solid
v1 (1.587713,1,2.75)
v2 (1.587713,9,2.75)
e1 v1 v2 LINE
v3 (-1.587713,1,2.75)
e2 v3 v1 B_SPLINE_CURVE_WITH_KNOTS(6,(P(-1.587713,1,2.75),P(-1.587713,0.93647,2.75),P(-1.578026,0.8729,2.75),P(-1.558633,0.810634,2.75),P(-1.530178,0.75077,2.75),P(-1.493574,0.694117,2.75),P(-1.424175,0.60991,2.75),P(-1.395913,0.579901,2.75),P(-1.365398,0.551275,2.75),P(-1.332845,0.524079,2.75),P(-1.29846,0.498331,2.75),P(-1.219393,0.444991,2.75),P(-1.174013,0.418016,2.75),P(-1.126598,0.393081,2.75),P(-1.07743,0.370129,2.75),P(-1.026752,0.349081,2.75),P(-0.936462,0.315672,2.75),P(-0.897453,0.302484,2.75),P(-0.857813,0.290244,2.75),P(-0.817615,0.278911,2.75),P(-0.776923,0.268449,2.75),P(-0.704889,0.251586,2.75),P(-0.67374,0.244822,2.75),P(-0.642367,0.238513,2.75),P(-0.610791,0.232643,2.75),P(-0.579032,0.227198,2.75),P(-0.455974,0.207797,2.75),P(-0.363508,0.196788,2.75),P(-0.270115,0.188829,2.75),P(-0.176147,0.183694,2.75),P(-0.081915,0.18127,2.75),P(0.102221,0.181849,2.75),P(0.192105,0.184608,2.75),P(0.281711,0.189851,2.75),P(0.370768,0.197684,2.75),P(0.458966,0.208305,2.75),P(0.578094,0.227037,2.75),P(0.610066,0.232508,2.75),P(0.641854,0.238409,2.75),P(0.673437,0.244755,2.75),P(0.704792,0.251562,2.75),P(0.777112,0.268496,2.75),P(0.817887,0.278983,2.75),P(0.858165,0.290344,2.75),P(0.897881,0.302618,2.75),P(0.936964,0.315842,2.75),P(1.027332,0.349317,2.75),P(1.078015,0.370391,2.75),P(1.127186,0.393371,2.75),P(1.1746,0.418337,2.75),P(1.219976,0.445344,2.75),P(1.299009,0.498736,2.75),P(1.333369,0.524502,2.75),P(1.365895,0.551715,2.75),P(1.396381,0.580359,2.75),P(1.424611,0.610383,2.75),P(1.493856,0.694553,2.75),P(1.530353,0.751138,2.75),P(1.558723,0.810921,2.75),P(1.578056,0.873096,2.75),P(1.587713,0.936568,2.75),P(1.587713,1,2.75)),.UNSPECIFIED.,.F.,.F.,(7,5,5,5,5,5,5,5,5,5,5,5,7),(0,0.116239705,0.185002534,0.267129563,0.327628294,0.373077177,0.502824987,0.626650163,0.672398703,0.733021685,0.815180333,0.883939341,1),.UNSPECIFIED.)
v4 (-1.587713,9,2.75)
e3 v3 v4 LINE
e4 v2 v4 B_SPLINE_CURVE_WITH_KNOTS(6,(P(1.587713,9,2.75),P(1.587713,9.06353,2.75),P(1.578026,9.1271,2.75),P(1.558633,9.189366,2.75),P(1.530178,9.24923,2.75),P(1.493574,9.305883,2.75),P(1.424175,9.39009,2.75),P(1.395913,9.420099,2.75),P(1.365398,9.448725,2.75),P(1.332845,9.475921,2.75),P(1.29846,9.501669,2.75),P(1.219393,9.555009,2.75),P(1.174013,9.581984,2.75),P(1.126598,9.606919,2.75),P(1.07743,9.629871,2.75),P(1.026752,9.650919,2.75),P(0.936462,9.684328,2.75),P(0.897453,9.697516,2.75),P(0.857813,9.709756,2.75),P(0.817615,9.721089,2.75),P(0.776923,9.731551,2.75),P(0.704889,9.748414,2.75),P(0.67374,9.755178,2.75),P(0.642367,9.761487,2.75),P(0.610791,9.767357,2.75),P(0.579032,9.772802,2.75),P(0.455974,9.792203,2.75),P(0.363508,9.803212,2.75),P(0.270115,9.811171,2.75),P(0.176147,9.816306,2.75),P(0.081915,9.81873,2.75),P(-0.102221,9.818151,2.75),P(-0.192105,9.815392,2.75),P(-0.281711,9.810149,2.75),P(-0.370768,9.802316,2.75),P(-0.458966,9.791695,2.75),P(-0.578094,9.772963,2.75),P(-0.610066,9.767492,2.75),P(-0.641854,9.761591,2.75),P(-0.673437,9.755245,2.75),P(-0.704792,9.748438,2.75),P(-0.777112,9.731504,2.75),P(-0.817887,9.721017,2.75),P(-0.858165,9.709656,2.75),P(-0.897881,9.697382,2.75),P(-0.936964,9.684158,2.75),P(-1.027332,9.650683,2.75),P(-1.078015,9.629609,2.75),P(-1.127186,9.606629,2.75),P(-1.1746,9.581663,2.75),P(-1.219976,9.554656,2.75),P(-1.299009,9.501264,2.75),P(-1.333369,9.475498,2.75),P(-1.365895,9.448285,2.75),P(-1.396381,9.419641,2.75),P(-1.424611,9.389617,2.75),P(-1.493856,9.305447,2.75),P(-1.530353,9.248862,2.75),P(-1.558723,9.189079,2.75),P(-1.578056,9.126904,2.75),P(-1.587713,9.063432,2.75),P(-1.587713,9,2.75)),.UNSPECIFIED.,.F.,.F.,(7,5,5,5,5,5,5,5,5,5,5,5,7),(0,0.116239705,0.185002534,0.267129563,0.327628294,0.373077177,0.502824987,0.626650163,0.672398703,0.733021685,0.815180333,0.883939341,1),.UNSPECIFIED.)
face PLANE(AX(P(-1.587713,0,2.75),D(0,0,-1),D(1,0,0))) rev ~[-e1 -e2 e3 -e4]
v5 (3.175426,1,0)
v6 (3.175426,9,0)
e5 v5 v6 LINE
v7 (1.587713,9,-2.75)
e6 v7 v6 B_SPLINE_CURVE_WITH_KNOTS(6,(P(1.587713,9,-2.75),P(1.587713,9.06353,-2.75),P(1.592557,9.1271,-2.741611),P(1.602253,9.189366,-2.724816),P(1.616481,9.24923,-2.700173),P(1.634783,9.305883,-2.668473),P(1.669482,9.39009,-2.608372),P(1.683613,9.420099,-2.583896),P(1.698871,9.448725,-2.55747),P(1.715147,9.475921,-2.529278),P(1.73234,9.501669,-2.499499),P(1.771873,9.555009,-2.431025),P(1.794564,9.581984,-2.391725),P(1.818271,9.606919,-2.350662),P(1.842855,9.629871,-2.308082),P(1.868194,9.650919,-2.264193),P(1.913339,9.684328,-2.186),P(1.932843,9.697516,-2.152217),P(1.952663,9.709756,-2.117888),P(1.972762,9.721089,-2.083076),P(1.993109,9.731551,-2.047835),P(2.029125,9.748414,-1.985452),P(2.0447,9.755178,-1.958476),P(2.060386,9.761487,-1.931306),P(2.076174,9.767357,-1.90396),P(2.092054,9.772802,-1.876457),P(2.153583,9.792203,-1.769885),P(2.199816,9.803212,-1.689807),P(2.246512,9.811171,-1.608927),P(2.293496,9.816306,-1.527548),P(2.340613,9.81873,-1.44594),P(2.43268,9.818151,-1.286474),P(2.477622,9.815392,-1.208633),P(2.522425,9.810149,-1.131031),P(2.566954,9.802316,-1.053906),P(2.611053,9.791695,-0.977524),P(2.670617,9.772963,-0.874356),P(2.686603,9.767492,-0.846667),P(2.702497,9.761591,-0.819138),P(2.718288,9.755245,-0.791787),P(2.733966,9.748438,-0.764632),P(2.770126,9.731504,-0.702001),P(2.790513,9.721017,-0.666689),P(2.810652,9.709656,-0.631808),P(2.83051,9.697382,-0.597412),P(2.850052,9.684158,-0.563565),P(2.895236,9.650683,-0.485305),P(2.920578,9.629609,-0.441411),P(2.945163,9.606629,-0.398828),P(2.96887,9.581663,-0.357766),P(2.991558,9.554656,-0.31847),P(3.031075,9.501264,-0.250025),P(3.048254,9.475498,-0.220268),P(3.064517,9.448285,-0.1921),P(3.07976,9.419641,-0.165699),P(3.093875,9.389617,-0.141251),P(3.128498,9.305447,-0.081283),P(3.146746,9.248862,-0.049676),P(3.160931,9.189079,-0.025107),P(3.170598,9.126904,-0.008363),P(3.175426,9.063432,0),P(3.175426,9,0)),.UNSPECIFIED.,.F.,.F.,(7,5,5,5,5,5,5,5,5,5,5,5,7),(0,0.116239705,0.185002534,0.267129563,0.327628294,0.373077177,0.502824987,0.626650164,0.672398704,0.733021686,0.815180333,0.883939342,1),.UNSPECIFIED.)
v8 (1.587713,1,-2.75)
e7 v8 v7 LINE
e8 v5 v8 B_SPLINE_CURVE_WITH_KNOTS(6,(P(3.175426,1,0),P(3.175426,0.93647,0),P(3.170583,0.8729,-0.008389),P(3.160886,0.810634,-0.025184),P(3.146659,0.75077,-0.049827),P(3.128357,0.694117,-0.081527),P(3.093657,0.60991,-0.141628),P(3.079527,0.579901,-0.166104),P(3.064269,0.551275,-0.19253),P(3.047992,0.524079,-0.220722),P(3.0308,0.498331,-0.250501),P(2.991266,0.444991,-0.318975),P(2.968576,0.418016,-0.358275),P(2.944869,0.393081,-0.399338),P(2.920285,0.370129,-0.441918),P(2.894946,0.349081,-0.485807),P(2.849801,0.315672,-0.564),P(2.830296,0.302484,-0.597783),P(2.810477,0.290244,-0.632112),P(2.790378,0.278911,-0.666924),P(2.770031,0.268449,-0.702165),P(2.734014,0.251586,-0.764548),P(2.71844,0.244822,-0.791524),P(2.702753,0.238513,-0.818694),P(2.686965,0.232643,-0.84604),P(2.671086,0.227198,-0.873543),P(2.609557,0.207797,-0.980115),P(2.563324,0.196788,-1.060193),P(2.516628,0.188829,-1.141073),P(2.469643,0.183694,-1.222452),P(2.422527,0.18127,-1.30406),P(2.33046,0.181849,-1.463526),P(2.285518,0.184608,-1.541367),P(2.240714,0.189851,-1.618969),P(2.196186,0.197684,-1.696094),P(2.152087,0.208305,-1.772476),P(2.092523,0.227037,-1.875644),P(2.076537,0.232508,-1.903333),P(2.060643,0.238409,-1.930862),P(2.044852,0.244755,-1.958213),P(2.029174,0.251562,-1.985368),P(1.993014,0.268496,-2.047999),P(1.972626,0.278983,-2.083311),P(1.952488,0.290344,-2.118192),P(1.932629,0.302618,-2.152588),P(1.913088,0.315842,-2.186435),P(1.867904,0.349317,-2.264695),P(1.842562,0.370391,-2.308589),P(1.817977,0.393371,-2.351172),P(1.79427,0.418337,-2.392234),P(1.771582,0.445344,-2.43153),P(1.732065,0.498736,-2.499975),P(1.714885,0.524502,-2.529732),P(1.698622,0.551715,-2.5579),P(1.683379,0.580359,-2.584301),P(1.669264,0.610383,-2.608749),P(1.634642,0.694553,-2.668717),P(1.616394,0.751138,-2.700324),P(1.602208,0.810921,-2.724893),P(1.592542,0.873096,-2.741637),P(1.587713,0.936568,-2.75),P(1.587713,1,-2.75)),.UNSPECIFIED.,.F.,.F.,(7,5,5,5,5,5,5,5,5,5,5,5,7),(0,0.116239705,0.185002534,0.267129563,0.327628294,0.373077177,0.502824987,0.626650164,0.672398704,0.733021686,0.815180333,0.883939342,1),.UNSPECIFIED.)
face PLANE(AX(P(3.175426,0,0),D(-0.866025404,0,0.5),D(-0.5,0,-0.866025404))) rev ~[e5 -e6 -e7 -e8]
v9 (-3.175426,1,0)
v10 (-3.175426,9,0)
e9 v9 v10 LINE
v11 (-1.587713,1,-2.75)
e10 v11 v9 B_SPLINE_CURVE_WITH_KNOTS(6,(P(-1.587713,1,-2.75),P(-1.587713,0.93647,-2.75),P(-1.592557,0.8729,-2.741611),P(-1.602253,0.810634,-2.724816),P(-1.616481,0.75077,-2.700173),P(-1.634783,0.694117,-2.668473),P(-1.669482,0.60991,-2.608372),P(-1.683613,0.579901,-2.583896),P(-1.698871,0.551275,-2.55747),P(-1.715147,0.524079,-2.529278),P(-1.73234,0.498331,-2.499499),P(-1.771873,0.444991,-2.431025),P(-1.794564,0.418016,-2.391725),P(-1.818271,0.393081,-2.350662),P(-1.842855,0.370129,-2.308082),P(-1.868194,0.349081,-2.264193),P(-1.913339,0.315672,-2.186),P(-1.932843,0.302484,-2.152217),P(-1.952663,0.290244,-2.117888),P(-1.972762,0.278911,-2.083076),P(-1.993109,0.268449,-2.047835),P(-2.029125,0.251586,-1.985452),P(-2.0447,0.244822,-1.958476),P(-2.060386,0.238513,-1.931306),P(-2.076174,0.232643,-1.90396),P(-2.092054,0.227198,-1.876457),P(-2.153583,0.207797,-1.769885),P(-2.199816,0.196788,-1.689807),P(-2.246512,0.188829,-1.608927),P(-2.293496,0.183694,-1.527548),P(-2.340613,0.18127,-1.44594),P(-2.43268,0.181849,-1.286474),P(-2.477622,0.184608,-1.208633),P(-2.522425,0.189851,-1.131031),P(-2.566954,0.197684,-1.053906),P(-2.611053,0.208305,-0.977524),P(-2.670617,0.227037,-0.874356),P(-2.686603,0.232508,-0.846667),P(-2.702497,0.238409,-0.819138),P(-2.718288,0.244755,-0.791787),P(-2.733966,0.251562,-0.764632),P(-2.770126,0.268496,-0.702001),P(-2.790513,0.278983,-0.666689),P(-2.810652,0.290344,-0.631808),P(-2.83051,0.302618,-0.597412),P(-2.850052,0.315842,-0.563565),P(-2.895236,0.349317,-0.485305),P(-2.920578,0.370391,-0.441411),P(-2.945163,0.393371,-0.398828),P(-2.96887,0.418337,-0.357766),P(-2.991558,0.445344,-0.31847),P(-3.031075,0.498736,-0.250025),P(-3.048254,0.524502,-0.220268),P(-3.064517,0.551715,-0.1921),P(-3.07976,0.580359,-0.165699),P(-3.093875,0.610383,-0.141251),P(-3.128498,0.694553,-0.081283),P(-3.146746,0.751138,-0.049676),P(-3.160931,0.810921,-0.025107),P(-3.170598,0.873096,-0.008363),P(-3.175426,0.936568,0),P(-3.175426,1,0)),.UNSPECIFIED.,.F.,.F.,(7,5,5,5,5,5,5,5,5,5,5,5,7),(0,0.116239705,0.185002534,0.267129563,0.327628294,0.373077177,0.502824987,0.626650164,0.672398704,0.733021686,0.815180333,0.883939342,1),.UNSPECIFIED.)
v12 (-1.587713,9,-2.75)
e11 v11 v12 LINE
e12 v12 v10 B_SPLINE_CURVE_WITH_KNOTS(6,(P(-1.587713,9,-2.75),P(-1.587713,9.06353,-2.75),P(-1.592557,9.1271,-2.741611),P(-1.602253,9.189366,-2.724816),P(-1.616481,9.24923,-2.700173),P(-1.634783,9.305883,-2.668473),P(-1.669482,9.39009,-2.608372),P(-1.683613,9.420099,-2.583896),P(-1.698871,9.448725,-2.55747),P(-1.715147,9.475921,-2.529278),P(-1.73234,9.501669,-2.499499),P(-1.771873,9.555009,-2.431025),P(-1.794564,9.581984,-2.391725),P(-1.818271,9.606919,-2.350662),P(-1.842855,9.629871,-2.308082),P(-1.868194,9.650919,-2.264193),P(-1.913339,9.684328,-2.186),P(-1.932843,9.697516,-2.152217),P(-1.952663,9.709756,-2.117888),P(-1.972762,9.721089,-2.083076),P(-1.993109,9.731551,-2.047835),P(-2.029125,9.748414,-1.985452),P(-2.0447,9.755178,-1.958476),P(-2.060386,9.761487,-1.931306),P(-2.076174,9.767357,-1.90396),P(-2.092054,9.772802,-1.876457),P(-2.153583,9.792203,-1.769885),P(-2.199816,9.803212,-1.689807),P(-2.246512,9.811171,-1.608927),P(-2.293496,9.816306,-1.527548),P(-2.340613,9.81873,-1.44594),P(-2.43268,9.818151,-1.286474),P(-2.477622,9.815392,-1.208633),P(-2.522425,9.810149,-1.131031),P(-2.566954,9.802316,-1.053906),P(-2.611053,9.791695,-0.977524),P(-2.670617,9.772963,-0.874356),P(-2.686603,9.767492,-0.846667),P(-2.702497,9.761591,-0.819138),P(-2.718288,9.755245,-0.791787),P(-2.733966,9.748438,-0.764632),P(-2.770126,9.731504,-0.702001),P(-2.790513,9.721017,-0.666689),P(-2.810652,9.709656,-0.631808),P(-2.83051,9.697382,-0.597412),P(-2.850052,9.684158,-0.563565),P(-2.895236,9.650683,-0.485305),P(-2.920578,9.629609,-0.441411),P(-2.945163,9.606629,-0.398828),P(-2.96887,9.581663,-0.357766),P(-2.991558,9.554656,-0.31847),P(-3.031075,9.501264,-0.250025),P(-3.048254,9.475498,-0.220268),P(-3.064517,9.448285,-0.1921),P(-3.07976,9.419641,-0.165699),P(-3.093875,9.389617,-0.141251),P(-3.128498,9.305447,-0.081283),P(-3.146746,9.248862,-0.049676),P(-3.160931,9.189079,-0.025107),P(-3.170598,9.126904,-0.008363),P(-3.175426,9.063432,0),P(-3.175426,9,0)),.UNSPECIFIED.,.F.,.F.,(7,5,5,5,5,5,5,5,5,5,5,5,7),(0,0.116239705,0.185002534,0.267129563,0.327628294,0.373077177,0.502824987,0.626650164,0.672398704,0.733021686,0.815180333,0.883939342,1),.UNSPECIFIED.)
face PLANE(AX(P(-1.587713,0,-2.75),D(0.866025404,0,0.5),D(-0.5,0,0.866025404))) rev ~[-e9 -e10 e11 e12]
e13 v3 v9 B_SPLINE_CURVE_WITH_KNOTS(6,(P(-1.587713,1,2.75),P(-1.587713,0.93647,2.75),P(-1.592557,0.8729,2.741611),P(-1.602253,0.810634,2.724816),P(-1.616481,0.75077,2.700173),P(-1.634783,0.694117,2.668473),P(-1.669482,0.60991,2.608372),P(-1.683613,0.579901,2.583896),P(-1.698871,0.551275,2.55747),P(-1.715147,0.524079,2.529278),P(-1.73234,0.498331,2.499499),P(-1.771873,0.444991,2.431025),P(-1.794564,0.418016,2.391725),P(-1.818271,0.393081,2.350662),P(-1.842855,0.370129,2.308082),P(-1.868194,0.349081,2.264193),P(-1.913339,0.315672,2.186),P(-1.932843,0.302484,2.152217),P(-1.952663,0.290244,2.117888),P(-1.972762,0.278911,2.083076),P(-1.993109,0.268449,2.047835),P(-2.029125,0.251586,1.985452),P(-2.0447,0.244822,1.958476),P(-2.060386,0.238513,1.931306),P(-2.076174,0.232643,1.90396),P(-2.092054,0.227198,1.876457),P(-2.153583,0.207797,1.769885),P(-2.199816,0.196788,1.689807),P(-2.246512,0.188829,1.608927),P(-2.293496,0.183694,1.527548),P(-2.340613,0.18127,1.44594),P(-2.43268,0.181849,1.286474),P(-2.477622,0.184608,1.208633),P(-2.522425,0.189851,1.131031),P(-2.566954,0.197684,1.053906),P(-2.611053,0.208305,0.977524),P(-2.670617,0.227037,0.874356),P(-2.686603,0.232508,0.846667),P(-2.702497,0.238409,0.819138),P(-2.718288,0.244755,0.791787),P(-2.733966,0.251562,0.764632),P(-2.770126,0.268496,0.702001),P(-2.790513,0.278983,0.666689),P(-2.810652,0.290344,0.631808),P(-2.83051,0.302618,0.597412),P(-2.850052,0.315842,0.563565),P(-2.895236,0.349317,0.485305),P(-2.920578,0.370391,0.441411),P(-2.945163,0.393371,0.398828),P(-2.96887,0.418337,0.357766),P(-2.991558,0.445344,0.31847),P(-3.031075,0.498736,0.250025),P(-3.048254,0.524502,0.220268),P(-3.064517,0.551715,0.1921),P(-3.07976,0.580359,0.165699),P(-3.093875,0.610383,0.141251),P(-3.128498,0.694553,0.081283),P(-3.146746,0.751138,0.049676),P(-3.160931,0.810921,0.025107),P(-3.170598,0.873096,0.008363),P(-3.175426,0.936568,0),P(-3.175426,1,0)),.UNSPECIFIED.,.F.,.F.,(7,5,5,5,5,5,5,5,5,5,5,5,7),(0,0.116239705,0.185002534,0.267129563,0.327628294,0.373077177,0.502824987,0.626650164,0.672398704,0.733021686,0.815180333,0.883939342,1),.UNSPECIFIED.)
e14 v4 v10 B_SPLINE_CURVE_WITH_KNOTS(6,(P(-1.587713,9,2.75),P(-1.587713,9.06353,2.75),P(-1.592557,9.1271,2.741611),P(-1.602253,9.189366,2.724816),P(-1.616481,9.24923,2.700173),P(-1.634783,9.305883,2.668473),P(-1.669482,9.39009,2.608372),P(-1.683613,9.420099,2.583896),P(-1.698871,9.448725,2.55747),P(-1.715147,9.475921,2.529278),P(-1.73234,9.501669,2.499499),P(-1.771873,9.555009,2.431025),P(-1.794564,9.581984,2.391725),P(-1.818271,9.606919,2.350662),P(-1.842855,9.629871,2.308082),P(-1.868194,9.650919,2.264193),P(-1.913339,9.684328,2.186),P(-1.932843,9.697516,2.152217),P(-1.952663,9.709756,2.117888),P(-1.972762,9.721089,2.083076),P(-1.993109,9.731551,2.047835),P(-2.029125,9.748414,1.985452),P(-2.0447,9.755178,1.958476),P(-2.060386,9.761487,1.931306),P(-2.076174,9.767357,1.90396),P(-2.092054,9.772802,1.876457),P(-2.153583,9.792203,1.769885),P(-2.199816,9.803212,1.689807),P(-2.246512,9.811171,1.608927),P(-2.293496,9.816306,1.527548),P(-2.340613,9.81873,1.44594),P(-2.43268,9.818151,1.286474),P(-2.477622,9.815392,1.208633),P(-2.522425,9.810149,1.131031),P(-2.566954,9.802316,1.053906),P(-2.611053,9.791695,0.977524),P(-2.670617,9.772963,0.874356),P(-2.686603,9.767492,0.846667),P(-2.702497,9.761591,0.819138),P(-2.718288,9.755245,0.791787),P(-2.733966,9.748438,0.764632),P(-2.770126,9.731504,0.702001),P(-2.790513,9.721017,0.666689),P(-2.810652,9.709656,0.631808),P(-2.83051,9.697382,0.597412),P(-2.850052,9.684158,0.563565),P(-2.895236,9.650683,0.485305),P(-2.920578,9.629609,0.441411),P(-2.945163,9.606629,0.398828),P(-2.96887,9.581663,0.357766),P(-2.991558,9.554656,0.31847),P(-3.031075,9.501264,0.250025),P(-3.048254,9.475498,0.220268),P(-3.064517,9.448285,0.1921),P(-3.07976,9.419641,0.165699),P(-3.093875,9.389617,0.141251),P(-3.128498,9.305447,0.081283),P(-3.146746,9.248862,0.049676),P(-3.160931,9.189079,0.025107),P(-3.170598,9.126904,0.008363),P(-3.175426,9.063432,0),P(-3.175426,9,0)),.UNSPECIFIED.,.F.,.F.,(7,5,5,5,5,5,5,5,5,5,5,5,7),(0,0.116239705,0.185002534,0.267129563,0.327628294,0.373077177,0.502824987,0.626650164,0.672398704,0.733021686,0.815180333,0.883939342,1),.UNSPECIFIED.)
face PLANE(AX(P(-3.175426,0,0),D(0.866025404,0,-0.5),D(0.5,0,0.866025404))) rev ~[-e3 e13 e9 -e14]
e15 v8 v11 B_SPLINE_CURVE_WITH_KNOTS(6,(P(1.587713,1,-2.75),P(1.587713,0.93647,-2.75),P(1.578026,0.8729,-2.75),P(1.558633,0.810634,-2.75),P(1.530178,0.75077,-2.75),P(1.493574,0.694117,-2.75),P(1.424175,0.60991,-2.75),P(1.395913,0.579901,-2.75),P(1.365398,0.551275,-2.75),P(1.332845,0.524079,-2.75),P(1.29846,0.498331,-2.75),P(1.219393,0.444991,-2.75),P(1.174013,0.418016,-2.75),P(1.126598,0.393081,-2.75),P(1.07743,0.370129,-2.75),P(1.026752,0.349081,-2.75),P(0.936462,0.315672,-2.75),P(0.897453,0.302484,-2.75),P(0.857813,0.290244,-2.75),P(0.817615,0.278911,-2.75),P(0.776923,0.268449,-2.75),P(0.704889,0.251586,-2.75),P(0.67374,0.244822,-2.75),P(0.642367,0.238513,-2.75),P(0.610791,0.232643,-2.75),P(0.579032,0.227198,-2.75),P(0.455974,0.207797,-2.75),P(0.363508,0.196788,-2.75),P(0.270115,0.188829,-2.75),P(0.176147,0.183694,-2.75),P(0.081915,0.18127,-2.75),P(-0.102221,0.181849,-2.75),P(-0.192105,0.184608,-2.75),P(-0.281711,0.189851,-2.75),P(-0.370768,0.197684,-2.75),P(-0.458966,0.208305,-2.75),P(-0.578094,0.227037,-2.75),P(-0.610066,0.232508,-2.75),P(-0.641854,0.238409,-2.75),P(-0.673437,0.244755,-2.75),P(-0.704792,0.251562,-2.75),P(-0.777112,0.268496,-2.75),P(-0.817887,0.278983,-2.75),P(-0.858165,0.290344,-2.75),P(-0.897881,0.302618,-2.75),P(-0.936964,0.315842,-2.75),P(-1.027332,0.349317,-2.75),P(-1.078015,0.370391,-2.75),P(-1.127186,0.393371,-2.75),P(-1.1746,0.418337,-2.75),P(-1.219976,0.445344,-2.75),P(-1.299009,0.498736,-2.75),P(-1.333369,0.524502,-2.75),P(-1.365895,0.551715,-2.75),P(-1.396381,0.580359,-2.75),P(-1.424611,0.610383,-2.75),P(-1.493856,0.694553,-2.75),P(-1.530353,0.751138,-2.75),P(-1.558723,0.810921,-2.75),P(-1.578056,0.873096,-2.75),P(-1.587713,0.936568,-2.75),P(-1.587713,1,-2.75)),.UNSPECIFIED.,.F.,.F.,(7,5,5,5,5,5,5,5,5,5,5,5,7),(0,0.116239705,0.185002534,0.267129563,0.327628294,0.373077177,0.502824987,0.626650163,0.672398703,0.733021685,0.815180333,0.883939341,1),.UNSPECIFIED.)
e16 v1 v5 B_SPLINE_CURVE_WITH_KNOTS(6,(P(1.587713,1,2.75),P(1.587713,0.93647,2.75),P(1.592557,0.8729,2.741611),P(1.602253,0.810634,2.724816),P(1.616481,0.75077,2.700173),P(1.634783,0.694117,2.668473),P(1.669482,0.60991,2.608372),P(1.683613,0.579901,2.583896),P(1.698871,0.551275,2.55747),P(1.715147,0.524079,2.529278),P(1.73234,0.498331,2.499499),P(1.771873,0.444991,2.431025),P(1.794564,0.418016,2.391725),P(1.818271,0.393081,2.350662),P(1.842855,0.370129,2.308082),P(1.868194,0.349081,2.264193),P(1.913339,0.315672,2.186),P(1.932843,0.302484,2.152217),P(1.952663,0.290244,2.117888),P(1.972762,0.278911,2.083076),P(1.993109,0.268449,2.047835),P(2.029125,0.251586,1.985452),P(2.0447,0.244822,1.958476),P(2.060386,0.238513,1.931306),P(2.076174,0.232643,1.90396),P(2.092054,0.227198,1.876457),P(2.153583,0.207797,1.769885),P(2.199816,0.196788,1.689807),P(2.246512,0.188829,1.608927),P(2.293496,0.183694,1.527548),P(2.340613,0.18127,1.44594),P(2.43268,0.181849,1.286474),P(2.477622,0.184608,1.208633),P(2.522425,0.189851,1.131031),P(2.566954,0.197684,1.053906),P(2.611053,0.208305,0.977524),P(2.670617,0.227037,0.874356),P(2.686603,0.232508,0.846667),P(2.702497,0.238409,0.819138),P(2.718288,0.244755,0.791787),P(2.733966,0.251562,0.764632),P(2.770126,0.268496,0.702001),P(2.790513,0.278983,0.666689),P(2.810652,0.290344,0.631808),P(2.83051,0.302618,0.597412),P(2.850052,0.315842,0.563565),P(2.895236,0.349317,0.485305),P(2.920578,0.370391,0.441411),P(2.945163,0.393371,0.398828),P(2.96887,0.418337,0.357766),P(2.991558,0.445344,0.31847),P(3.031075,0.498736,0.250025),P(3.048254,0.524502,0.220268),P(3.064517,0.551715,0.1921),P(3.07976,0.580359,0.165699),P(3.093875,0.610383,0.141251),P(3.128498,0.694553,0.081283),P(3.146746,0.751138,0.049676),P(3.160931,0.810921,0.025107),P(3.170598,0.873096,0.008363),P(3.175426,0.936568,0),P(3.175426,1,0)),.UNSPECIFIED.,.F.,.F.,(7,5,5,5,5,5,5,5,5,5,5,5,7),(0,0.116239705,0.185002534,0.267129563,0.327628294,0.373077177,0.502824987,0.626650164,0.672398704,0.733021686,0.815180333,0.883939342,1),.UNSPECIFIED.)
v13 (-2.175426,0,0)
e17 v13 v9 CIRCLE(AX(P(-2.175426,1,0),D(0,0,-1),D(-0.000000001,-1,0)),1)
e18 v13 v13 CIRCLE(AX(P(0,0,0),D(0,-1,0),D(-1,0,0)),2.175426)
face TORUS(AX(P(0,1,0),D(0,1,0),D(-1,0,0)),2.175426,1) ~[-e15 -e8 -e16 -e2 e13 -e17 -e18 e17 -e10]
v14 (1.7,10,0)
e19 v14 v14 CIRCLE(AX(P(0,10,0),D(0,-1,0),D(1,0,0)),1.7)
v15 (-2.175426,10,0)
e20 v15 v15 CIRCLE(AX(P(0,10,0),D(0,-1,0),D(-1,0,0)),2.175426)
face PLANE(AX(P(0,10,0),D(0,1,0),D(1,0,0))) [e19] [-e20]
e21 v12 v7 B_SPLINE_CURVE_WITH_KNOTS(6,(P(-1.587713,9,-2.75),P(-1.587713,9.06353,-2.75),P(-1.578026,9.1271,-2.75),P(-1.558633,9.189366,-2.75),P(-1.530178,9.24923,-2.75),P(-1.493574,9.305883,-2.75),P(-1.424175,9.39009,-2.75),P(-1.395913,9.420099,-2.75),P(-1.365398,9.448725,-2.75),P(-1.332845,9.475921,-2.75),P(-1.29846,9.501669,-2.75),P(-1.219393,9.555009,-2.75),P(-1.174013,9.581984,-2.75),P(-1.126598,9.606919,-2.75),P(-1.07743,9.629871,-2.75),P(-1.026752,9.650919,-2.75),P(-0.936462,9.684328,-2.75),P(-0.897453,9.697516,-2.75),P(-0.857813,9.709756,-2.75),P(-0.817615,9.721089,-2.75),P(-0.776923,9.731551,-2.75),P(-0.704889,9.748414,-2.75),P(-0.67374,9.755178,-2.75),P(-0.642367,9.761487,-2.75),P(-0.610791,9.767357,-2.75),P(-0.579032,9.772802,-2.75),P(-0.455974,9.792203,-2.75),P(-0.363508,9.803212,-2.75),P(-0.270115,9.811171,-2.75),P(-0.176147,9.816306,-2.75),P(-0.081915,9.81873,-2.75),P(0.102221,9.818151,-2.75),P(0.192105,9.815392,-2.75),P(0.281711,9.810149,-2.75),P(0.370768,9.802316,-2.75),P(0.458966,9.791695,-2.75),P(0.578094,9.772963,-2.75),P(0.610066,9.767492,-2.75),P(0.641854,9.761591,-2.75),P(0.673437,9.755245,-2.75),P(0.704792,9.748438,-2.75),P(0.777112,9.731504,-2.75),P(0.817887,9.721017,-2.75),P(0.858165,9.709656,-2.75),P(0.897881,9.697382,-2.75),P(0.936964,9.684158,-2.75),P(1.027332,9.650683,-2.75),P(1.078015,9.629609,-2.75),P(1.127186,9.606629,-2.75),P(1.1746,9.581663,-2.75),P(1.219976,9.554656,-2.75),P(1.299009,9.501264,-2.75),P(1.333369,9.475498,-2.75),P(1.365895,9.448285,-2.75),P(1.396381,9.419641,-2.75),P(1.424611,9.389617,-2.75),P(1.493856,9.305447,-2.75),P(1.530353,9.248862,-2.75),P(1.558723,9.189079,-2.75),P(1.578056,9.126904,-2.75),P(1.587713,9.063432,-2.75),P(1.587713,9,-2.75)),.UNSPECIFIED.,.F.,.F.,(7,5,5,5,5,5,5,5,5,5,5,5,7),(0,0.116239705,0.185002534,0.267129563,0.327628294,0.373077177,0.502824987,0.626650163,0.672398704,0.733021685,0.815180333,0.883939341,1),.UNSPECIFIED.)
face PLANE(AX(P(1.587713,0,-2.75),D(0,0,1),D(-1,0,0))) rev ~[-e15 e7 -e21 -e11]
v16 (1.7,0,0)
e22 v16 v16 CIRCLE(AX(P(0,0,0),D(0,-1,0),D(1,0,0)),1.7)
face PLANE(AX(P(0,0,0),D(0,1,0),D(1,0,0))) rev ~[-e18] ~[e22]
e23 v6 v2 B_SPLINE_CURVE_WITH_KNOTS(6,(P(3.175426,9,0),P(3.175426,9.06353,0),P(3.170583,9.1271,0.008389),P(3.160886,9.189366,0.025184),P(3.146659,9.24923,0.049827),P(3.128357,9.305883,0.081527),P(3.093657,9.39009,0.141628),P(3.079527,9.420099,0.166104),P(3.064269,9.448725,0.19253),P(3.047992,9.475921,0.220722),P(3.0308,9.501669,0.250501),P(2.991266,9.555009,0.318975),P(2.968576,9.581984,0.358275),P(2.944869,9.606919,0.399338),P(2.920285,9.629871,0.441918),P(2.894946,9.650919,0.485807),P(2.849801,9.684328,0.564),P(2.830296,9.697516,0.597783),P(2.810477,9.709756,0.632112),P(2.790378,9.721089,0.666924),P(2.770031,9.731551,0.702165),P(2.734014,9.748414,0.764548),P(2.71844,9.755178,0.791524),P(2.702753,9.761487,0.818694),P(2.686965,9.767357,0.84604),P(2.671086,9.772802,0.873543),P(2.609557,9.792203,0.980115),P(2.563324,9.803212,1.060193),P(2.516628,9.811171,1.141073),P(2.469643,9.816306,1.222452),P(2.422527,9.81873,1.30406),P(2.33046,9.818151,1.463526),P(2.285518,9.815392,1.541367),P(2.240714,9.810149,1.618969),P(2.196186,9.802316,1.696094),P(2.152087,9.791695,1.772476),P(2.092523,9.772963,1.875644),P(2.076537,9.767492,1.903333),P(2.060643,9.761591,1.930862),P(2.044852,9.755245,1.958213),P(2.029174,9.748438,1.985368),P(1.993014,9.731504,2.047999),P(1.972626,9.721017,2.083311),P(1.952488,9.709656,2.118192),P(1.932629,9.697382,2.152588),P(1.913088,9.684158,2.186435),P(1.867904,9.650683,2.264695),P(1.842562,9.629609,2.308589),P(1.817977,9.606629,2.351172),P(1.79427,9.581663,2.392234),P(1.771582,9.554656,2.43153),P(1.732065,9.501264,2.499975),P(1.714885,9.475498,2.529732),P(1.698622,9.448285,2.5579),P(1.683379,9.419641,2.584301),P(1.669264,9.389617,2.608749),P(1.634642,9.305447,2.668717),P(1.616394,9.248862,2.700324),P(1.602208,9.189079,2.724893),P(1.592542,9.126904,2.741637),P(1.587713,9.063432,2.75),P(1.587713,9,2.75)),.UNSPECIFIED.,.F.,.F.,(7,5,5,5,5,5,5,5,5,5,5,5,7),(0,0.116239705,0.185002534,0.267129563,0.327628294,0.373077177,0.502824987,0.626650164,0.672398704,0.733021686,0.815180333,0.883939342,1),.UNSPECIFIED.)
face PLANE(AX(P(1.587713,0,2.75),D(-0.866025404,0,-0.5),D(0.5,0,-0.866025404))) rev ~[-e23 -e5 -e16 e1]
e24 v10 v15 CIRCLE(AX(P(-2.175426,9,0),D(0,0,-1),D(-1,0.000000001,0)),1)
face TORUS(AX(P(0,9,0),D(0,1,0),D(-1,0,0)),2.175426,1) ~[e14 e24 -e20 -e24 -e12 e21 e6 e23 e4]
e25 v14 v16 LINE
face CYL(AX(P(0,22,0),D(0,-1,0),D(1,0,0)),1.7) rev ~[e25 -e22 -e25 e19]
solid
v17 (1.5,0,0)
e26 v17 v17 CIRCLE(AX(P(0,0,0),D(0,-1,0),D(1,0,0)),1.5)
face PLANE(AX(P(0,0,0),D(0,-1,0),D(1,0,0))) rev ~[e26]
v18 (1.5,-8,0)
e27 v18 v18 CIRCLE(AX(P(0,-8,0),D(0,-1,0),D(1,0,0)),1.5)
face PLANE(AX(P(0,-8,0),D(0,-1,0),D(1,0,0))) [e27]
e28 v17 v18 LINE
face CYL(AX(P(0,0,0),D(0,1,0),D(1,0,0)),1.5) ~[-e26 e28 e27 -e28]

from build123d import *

# Parameters (mm, degrees)
BOSS_EXTRUDE1_DEPTH      = 10
M3_CLEARANCE_HOLE1_D     = 3.4
M3_CLEARANCE_HOLE1_DEPTH = 12
M3_CLEARANCE_HOLE1_TIP   = 1.021463052
SKETCH5_R                = 1.5
BOSS_EXTRUDE2_DEPTH      = 8


with BuildPart() as part:
    # Sketch1 → Boss-Extrude1 (new body)
    with BuildSketch(Plane(origin=(0, 0, 0), x_dir=(1, 0, 0), z_dir=(0, 1, 0))):
        Polygon((3.175426481, 0), (1.58771324, 2.75), (-1.58771324, 2.75), (-3.175426481, 0), (-1.58771324, -2.75), (1.58771324, -2.75), align=None)
    extrude(amount=BOSS_EXTRUDE1_DEPTH)

    # M3 Clearance Hole1
    with Locations(Plane(origin=(0, 10, 0), x_dir=(-1, 0, 0), z_dir=(0, 1, 0))):
        with Locations((0, 0)):
            Hole(M3_CLEARANCE_HOLE1_D / 2, depth=M3_CLEARANCE_HOLE1_DEPTH)
            with Locations((0, 0, -(M3_CLEARANCE_HOLE1_DEPTH + M3_CLEARANCE_HOLE1_TIP / 2))):  # 118° drill point
                Cone(0, M3_CLEARANCE_HOLE1_D / 2, M3_CLEARANCE_HOLE1_TIP, mode=Mode.SUBTRACT)

    # Sketch4 → Cut-Revolve1 (revolve, cut)
    with BuildSketch(Plane.XY):
        with BuildLine():
            Line((-2.175426481, 10), (-3.175426481, 10))
            Line((-3.175426481, 10), (-3.175426481, 9))
            ThreePointArc((-3.175426481, 9), (-2.882533262, 9.707106781), (-2.175426481, 10))
        make_face()
        with BuildLine():
            Line((-3.175426481, 1), (-3.175426481, 0))
            Line((-3.175426481, 0), (-2.175426481, 0))
            ThreePointArc((-2.175426481, 0), (-2.882533262, 0.292893219), (-3.175426481, 1))
        make_face()
    revolve(axis=Axis((0, 10, 0), (0, -1, 0)), mode=Mode.SUBTRACT)


with BuildPart() as body_2:
    # Sketch5 → Boss-Extrude2 (new body)
    with BuildSketch(Plane.XZ):
        Circle(SKETCH5_R)
    extrude(amount=BOSS_EXTRUDE2_DEPTH)


solid = Compound([part.part, body_2.part])
